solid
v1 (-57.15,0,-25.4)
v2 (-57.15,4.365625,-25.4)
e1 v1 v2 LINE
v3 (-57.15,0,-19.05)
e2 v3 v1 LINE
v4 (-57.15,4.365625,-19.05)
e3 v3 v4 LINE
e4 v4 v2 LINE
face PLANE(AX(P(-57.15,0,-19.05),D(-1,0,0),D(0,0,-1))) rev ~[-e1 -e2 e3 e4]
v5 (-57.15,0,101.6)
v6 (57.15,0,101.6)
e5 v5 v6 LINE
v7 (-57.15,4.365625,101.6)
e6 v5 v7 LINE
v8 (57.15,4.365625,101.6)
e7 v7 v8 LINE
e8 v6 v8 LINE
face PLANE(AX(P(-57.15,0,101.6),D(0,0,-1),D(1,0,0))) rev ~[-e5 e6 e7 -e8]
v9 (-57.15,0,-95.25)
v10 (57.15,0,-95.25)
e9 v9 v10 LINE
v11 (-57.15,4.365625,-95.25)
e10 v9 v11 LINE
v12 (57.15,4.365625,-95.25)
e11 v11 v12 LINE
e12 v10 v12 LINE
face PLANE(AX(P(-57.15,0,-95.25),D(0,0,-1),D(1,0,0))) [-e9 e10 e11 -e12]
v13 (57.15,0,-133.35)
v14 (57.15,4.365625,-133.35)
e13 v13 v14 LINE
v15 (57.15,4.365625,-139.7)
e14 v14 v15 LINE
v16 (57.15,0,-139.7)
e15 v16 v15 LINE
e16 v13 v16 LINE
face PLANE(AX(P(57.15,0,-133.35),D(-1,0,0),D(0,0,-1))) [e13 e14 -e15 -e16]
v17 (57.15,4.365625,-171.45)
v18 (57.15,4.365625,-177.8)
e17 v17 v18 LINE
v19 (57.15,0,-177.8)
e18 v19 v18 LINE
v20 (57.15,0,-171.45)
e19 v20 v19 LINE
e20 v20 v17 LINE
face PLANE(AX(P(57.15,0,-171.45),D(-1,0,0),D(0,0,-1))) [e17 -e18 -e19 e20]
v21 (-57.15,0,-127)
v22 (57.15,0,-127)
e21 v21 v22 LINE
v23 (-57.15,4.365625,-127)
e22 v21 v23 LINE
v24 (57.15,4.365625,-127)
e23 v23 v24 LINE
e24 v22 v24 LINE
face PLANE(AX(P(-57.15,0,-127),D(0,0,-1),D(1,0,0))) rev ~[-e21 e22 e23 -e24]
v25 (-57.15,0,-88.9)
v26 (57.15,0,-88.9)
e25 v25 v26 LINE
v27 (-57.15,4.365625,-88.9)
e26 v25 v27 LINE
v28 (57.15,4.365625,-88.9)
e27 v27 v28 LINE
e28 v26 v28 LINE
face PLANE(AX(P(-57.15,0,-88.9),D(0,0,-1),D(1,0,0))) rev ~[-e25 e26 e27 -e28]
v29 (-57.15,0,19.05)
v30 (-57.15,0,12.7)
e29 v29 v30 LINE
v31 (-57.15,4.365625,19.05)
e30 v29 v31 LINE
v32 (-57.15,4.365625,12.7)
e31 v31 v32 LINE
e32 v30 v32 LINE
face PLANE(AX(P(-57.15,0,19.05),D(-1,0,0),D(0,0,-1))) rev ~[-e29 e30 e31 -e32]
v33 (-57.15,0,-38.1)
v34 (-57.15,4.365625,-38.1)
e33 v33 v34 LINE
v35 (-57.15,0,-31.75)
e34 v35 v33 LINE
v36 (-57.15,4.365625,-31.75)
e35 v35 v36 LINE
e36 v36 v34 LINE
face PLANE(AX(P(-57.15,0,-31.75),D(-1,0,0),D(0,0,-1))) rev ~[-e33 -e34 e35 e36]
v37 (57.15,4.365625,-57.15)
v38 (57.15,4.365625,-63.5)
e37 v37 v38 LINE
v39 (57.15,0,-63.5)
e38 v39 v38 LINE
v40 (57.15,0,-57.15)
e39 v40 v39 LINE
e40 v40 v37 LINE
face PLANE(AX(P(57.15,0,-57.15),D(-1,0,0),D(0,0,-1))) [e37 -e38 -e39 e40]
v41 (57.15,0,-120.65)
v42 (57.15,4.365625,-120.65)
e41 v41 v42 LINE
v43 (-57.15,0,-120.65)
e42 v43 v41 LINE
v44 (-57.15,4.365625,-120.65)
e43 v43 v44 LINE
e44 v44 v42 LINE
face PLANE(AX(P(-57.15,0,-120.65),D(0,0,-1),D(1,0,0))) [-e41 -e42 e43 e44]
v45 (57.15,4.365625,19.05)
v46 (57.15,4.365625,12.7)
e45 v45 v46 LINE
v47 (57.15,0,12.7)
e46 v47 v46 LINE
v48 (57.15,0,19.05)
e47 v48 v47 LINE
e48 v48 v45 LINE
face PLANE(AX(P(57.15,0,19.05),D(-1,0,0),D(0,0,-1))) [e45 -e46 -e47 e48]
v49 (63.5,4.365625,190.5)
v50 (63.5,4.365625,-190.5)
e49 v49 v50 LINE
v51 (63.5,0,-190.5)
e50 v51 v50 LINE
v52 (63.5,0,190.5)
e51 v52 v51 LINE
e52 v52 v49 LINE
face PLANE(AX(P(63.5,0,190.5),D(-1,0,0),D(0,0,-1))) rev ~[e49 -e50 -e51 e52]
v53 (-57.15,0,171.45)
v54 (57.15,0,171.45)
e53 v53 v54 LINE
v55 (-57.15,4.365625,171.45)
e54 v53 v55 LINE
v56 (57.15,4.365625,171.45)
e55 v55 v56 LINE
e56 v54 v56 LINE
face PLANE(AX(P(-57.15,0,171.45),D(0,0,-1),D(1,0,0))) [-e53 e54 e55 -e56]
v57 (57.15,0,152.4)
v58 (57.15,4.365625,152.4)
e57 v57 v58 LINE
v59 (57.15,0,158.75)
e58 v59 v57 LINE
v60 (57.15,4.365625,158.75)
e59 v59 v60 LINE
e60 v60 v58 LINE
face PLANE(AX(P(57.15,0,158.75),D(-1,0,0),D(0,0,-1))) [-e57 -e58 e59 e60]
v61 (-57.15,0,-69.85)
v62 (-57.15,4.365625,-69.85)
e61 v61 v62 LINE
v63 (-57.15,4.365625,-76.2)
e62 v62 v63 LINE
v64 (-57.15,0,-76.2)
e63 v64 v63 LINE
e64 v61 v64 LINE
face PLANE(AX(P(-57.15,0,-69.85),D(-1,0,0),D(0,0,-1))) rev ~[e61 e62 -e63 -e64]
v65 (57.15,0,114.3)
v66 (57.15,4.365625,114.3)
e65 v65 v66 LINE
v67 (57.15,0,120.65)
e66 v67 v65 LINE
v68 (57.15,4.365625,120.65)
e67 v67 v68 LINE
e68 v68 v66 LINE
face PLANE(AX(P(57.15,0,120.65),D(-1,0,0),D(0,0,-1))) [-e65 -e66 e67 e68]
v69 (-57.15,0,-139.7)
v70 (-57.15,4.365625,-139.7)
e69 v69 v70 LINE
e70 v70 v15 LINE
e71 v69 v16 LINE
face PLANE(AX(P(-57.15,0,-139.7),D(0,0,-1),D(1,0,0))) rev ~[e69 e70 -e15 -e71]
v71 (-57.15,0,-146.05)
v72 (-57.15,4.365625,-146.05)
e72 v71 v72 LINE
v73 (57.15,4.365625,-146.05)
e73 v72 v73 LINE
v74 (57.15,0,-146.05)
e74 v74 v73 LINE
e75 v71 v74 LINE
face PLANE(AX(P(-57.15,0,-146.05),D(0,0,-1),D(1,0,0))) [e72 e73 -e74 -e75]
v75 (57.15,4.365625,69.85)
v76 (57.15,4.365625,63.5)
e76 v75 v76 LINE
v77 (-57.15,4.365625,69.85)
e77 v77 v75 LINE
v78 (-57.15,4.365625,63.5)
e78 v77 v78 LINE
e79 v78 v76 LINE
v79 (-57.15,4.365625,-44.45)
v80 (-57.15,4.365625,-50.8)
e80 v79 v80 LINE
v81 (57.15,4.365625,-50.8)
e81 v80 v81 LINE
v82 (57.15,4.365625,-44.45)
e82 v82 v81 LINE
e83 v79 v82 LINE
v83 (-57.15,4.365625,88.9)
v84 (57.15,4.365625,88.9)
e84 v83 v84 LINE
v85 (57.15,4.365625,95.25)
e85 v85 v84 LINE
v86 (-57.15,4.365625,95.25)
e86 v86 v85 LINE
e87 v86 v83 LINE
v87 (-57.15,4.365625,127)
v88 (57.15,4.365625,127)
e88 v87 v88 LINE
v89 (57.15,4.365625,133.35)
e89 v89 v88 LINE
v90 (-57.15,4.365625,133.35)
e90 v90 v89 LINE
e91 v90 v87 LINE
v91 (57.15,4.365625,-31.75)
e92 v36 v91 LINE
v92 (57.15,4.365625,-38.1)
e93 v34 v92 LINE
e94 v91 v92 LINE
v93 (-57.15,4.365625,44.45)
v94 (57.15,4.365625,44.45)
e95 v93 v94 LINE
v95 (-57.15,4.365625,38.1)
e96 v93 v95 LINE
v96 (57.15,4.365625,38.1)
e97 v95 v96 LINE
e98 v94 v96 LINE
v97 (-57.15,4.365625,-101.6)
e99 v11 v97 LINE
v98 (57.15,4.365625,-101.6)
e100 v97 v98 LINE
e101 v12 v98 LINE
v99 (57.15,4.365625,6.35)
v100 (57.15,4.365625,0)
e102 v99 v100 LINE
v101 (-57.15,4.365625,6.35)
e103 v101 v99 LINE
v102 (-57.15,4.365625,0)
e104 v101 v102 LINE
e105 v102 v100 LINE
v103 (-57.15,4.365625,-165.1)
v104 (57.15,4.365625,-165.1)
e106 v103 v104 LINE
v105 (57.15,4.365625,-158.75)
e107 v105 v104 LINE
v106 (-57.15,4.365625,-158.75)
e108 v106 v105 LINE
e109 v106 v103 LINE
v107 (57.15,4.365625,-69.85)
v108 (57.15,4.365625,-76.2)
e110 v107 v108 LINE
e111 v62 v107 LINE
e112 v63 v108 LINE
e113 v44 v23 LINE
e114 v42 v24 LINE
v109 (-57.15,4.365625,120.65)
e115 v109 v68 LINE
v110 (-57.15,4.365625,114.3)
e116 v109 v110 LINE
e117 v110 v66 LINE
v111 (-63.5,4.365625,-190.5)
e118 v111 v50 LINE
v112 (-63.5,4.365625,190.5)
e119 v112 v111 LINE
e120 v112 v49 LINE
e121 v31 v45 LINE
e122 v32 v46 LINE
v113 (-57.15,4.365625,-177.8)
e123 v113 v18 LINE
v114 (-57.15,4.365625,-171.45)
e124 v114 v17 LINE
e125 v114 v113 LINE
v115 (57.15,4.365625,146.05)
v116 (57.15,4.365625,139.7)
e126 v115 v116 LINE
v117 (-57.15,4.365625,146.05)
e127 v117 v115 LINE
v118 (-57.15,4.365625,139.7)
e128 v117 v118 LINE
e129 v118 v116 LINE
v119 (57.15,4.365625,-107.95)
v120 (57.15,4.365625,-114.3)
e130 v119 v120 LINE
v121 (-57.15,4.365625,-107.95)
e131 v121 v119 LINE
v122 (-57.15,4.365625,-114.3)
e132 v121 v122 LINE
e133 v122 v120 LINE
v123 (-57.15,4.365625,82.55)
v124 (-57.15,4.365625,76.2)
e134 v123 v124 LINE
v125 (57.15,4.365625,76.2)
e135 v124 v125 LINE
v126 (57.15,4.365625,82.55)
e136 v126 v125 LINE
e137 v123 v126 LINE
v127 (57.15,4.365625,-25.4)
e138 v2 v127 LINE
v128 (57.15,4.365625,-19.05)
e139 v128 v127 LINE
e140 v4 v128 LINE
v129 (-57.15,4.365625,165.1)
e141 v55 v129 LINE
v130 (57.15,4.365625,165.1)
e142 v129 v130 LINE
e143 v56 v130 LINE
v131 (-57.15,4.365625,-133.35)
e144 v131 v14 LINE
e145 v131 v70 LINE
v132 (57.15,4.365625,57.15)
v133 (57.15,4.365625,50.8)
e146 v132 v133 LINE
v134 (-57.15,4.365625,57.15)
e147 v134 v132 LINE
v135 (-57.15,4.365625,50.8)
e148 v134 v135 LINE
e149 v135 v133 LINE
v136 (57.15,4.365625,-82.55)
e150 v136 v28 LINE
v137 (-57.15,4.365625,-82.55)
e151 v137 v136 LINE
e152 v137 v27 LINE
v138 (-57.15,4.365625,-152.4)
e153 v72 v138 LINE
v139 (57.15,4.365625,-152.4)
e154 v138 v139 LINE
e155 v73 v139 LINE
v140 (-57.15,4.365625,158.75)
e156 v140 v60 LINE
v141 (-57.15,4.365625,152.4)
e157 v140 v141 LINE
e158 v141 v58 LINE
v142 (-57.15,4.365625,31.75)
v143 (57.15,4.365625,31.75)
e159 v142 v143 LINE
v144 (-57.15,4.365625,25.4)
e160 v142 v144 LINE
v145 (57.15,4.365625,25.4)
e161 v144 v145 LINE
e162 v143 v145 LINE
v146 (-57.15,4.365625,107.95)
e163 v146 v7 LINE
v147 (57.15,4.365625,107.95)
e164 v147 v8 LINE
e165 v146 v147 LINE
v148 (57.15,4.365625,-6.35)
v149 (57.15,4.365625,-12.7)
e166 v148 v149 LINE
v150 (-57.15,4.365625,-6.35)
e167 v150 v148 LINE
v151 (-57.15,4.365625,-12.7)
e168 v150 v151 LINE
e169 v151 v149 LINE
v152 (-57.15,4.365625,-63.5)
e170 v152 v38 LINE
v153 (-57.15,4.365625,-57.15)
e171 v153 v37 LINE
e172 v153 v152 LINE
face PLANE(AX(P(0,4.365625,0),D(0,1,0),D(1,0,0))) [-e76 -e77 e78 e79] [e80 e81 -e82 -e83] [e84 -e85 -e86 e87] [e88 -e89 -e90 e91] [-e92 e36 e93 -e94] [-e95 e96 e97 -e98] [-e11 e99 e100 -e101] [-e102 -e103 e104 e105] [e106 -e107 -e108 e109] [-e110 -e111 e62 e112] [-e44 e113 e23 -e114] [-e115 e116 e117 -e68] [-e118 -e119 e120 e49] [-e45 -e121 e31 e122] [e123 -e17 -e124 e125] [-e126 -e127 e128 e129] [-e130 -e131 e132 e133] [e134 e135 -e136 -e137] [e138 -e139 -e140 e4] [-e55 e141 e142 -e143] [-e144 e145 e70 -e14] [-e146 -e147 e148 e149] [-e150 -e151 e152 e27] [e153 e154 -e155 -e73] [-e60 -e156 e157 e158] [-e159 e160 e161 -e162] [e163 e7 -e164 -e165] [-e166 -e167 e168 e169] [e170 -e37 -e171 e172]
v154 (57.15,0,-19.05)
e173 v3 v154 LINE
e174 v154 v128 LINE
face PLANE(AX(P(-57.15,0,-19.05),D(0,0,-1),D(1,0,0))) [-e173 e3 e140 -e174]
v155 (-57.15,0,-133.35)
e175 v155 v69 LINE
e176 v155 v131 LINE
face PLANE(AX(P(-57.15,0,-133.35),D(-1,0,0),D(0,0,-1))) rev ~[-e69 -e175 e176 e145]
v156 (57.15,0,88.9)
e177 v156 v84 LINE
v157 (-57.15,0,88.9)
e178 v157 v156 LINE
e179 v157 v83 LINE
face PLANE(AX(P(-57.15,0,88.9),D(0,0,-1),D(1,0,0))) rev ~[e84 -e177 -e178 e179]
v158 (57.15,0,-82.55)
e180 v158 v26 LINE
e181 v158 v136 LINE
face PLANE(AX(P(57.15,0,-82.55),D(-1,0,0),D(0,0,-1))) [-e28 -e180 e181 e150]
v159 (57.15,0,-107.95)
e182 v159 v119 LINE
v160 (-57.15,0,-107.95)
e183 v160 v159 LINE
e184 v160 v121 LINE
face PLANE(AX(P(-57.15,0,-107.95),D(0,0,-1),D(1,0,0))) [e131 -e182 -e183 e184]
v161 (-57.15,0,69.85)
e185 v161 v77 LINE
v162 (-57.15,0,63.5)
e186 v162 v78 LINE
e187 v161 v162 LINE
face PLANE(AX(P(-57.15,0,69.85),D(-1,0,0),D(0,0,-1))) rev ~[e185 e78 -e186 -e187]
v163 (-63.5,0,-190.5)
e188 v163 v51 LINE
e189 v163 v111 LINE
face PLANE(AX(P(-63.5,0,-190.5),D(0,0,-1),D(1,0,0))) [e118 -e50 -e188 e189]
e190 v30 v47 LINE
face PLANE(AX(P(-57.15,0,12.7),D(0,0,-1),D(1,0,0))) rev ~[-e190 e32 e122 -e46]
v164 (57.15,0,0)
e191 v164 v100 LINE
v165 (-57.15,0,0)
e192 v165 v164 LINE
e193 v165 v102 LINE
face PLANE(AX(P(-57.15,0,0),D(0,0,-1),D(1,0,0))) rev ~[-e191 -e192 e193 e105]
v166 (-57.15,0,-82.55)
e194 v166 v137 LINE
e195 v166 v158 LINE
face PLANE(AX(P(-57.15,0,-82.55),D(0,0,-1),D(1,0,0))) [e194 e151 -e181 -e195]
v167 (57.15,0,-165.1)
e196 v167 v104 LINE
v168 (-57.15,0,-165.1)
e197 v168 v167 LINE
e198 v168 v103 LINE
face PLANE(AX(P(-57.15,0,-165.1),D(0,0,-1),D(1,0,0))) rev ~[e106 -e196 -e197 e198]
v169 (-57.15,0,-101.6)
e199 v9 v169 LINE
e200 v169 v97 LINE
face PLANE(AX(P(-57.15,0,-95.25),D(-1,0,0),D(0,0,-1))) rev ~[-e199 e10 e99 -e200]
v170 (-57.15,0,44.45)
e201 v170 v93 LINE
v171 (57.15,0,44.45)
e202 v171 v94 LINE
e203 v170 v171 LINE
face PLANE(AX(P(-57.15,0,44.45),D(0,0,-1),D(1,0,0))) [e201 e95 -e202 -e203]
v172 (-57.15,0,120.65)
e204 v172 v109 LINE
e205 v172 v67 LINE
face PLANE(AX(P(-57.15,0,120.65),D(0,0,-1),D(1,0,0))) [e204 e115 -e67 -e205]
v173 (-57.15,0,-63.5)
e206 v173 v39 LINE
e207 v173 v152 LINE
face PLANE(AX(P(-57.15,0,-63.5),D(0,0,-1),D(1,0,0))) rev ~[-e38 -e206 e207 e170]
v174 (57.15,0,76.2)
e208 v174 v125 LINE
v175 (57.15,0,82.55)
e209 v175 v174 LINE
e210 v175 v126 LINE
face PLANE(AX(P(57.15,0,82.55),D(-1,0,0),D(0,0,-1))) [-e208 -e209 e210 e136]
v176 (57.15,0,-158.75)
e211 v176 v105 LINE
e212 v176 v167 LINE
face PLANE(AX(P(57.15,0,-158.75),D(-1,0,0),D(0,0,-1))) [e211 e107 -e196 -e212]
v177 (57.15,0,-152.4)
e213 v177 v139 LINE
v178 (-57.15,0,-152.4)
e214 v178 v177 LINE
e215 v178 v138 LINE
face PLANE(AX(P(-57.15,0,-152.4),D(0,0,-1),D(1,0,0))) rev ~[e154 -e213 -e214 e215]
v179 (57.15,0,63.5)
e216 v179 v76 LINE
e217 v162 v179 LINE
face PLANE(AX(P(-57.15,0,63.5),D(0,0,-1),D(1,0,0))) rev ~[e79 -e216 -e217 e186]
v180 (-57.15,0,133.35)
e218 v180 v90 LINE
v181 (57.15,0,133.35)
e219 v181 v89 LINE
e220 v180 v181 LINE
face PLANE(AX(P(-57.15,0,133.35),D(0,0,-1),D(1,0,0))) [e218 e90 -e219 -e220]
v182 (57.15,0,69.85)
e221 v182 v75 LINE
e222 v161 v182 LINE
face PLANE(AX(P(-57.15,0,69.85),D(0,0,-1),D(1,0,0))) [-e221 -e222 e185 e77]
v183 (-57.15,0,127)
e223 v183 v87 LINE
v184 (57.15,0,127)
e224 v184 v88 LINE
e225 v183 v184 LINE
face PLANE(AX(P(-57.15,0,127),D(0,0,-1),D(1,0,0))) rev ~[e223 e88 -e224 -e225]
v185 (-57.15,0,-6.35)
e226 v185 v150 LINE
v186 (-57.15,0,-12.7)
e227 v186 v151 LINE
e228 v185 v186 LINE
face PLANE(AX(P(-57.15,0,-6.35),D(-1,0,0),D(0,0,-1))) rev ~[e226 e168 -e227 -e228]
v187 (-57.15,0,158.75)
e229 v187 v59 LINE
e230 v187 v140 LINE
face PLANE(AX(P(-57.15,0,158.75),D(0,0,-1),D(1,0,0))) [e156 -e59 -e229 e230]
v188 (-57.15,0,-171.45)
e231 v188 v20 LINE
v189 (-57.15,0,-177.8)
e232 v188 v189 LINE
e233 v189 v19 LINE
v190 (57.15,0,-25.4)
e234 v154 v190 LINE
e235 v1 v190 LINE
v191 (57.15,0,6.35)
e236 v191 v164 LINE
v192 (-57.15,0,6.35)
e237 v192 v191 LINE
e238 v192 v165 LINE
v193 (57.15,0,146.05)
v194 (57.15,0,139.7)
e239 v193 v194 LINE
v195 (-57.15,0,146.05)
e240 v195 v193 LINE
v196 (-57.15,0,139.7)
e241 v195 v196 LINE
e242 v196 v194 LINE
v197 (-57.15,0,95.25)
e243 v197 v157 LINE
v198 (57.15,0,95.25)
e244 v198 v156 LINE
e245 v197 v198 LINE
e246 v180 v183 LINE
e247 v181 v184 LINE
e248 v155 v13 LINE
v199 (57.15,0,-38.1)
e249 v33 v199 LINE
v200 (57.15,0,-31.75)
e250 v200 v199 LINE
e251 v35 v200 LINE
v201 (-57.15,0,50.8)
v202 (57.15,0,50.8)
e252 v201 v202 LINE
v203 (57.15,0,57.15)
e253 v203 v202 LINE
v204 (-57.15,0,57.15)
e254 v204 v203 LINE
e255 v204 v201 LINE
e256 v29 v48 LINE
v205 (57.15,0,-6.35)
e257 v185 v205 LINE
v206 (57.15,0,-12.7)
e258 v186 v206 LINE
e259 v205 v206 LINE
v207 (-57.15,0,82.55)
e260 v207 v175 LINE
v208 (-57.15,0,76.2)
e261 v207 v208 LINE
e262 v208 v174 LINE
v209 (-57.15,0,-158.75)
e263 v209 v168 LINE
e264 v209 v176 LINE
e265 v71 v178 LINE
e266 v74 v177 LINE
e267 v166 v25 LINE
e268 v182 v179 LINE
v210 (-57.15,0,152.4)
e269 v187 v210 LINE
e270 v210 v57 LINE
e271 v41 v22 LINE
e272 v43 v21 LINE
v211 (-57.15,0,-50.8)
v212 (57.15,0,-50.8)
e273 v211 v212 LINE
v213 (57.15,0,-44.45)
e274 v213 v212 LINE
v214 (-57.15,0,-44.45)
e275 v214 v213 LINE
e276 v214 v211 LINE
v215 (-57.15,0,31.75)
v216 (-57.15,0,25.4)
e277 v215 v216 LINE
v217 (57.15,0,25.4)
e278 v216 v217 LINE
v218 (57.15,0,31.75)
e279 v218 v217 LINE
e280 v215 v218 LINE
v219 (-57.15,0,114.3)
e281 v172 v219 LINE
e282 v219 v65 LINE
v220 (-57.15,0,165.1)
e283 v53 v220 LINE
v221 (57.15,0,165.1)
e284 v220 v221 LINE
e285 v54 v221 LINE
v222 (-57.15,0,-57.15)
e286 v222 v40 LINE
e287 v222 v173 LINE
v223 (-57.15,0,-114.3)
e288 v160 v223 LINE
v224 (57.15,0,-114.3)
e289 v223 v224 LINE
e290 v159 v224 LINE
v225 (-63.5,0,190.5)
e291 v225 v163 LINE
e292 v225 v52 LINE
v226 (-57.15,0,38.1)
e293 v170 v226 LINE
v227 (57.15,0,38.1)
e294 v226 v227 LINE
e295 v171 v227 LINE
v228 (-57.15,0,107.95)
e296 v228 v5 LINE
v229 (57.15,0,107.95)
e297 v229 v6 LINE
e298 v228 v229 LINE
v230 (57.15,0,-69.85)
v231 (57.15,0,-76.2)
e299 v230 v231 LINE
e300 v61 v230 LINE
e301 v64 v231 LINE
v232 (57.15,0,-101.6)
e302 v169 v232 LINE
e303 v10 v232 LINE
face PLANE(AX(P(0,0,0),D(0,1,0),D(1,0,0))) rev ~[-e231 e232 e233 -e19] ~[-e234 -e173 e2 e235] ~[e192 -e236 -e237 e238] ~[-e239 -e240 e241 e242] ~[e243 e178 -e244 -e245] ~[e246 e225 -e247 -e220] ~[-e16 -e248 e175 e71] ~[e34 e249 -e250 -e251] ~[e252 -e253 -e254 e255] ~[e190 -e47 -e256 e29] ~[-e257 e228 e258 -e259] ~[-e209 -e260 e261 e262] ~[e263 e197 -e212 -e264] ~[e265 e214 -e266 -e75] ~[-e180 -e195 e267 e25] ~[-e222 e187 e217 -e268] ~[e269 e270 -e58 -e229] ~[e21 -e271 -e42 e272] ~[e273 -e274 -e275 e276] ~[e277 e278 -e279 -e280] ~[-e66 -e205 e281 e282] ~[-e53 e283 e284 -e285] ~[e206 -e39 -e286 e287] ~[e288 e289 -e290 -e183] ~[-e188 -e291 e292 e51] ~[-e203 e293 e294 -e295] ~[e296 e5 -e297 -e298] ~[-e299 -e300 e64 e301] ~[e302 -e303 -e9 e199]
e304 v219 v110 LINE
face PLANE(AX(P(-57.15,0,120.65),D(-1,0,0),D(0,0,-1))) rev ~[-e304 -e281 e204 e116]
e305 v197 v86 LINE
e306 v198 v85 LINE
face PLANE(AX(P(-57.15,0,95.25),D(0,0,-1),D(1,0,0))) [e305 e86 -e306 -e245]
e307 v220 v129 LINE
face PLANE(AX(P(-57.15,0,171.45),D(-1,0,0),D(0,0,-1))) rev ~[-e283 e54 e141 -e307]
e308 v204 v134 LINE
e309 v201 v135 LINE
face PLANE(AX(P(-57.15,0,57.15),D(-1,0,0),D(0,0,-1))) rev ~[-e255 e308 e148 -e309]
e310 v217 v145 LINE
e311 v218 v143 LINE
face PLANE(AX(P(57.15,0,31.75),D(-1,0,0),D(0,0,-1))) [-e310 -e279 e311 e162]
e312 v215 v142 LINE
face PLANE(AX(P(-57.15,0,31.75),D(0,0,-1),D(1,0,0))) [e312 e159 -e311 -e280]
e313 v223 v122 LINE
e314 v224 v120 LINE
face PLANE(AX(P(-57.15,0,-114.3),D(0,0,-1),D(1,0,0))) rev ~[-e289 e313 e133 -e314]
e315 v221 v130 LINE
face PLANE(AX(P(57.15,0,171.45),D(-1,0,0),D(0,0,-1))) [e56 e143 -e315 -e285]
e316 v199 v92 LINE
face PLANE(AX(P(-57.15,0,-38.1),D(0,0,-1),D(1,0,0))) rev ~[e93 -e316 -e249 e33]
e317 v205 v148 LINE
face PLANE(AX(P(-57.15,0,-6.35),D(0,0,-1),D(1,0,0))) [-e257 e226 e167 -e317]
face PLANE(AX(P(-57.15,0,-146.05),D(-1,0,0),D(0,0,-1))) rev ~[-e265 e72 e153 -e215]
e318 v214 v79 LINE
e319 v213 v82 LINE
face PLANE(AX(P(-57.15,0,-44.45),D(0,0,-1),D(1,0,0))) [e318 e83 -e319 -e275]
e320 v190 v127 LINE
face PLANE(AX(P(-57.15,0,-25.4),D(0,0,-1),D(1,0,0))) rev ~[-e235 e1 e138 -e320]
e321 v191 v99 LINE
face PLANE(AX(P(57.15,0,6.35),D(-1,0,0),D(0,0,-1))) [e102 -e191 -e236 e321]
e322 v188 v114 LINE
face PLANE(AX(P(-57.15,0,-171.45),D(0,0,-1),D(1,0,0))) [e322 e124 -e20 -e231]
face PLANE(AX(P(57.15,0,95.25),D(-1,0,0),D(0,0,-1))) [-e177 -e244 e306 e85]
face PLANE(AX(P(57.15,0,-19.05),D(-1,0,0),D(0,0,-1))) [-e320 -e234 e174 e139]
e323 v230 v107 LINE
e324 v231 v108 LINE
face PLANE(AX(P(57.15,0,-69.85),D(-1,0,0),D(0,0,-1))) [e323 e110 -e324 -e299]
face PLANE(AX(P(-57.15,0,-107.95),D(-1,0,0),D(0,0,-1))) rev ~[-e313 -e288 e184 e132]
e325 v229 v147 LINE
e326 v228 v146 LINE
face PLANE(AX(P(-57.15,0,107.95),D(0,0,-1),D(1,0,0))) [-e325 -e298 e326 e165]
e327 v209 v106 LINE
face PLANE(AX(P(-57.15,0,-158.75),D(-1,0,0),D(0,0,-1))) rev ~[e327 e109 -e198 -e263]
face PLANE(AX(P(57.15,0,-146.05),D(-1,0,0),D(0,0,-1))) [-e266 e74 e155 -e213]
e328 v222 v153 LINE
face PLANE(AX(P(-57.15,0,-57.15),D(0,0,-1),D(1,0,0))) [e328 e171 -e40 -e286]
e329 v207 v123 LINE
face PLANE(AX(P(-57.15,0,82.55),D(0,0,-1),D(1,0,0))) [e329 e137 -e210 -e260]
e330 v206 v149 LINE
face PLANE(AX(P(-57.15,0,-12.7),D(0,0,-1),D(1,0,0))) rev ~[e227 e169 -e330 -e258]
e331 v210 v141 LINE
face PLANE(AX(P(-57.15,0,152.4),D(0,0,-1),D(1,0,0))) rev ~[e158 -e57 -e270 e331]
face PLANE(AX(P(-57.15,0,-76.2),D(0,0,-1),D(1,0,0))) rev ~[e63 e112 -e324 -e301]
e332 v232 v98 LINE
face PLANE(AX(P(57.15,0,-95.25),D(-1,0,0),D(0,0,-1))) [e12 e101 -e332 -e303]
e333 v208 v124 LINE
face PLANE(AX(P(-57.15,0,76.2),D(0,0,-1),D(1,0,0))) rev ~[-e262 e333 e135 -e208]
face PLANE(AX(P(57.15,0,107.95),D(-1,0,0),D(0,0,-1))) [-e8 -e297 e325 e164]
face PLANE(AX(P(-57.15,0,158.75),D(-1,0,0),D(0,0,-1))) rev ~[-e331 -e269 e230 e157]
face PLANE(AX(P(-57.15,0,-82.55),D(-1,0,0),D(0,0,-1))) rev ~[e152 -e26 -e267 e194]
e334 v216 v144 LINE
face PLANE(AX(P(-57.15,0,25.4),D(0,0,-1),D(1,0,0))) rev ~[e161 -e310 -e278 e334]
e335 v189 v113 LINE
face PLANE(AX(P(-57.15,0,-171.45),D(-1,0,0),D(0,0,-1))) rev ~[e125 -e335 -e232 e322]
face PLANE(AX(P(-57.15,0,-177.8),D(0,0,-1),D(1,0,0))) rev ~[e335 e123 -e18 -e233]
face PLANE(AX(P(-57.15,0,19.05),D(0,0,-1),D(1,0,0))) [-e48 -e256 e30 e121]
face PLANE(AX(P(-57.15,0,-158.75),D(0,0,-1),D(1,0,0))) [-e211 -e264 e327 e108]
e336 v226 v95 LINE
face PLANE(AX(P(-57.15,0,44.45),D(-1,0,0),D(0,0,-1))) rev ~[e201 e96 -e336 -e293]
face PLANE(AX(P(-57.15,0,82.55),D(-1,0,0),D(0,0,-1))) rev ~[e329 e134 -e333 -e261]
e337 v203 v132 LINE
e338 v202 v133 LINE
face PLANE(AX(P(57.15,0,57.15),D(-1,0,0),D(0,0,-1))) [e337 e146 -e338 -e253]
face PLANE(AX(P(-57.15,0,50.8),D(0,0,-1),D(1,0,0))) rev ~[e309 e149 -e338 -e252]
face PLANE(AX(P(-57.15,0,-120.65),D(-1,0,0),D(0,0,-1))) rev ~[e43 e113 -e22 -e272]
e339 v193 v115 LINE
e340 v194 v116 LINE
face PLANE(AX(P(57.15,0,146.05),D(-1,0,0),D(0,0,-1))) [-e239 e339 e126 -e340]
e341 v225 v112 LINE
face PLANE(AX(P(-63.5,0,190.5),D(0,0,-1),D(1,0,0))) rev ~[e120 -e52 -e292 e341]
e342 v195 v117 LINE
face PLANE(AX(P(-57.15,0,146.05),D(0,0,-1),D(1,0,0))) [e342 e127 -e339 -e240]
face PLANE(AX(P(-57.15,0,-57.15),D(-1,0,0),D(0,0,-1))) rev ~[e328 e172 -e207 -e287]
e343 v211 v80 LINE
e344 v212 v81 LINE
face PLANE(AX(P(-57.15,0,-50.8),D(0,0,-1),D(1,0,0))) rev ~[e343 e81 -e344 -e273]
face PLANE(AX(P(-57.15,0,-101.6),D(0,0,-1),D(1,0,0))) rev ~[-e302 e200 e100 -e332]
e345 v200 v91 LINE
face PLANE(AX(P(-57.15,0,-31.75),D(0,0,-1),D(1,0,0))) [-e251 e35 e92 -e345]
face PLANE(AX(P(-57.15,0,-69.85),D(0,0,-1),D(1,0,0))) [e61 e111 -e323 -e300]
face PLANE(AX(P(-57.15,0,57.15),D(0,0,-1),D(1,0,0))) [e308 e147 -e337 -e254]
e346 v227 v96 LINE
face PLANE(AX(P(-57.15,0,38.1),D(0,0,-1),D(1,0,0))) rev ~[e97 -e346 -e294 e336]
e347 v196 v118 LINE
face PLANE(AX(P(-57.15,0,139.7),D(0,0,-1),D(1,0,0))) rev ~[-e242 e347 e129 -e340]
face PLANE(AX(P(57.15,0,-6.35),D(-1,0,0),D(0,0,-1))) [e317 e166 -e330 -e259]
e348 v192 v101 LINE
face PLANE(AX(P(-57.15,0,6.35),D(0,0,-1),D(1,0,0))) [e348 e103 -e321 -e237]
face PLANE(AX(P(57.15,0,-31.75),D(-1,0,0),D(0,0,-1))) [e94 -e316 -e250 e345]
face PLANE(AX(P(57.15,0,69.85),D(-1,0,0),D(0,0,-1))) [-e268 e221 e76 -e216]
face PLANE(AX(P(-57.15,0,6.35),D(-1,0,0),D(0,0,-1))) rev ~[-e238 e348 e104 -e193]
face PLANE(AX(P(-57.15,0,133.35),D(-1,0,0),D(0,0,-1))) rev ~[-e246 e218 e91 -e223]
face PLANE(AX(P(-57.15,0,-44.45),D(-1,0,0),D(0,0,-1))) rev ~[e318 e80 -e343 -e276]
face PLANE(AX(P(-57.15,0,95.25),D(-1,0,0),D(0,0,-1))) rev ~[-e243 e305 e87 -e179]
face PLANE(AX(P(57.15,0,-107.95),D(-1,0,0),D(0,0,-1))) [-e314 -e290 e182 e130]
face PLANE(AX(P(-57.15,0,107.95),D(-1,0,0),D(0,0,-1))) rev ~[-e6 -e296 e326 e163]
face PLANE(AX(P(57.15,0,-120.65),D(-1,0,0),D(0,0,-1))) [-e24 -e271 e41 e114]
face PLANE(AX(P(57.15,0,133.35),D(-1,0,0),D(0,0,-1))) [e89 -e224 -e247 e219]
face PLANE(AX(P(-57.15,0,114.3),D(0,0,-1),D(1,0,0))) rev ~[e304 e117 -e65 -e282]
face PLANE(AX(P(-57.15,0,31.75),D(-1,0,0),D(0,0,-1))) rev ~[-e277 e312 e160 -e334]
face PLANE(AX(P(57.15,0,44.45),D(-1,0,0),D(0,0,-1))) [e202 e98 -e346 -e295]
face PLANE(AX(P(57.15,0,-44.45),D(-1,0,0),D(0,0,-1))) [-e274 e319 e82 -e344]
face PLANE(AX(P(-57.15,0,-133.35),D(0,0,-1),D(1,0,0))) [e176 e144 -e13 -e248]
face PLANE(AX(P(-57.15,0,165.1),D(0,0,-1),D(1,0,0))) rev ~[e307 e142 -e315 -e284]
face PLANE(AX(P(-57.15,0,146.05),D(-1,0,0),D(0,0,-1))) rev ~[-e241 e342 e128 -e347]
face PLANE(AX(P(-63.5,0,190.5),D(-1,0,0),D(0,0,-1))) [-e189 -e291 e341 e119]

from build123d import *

# Parameters (mm, degrees)
SKETCH1_W           = 127
SKETCH1_H           = 381
SKETCH1_W_2         = 114.3
SKETCH1_H_2         = 6.35
BOSS_EXTRUDE1_DEPTH = 4.365625


with BuildPart() as part:
    # Sketch1 → Boss-Extrude1 (new body)
    with BuildSketch(Plane(origin=(0, 0, 0), x_dir=(1, 0, 0), z_dir=(0, 1, 0))):
        Rectangle(SKETCH1_W, SKETCH1_H)
        with Locations((0, 161.925)):
            Rectangle(SKETCH1_W_2, SKETCH1_H_2, mode=Mode.SUBTRACT)
        with Locations((0, 174.625)):
            Rectangle(SKETCH1_W_2, SKETCH1_H_2, mode=Mode.SUBTRACT)
        with Locations((0, 149.225)):
            Rectangle(SKETCH1_W_2, SKETCH1_H_2, mode=Mode.SUBTRACT)
        with Locations((0, 136.525)):
            Rectangle(SKETCH1_W_2, SKETCH1_H_2, mode=Mode.SUBTRACT)
        with Locations((0, 123.825)):
            Rectangle(SKETCH1_W_2, SKETCH1_H_2, mode=Mode.SUBTRACT)
        with Locations((0, 111.125)):
            Rectangle(SKETCH1_W_2, SKETCH1_H_2, mode=Mode.SUBTRACT)
        with Locations((0, 98.425)):
            Rectangle(SKETCH1_W_2, SKETCH1_H_2, mode=Mode.SUBTRACT)
        with Locations((0, 85.725)):
            Rectangle(SKETCH1_W_2, SKETCH1_H_2, mode=Mode.SUBTRACT)
        with Locations((0, 73.025)):
            Rectangle(SKETCH1_W_2, SKETCH1_H_2, mode=Mode.SUBTRACT)
        with Locations((0, 60.325)):
            Rectangle(SKETCH1_W_2, SKETCH1_H_2, mode=Mode.SUBTRACT)
        with Locations((0, 47.625)):
            Rectangle(SKETCH1_W_2, SKETCH1_H_2, mode=Mode.SUBTRACT)
        with Locations((0, 34.925)):
            Rectangle(SKETCH1_W_2, SKETCH1_H_2, mode=Mode.SUBTRACT)
        with Locations((0, 22.225)):
            Rectangle(SKETCH1_W_2, SKETCH1_H_2, mode=Mode.SUBTRACT)
        with Locations((0, 9.525)):
            Rectangle(SKETCH1_W_2, SKETCH1_H_2, mode=Mode.SUBTRACT)
        with Locations((0, -3.175)):
            Rectangle(SKETCH1_W_2, SKETCH1_H_2, mode=Mode.SUBTRACT)
        with Locations((0, -15.875)):
            Rectangle(SKETCH1_W_2, SKETCH1_H_2, mode=Mode.SUBTRACT)
        with Locations((0, -28.575)):
            Rectangle(SKETCH1_W_2, SKETCH1_H_2, mode=Mode.SUBTRACT)
        with Locations((0, -41.275)):
            Rectangle(SKETCH1_W_2, SKETCH1_H_2, mode=Mode.SUBTRACT)
        with Locations((0, -53.975)):
            Rectangle(SKETCH1_W_2, SKETCH1_H_2, mode=Mode.SUBTRACT)
        with Locations((0, -66.675)):
            Rectangle(SKETCH1_W_2, SKETCH1_H_2, mode=Mode.SUBTRACT)
        with Locations((0, -79.375)):
            Rectangle(SKETCH1_W_2, SKETCH1_H_2, mode=Mode.SUBTRACT)
        with Locations((0, -92.075)):
            Rectangle(SKETCH1_W_2, SKETCH1_H_2, mode=Mode.SUBTRACT)
        with Locations((0, -104.775)):
            Rectangle(SKETCH1_W_2, SKETCH1_H_2, mode=Mode.SUBTRACT)
        with Locations((0, -117.475)):
            Rectangle(SKETCH1_W_2, SKETCH1_H_2, mode=Mode.SUBTRACT)
        with Locations((0, -130.175)):
            Rectangle(SKETCH1_W_2, SKETCH1_H_2, mode=Mode.SUBTRACT)
        with Locations((0, -142.875)):
            Rectangle(SKETCH1_W_2, SKETCH1_H_2, mode=Mode.SUBTRACT)
        with Locations((0, -155.575)):
            Rectangle(SKETCH1_W_2, SKETCH1_H_2, mode=Mode.SUBTRACT)
        with Locations((0, -168.275)):
            Rectangle(SKETCH1_W_2, SKETCH1_H_2, mode=Mode.SUBTRACT)
    extrude(amount=BOSS_EXTRUDE1_DEPTH)


solid = part.part
